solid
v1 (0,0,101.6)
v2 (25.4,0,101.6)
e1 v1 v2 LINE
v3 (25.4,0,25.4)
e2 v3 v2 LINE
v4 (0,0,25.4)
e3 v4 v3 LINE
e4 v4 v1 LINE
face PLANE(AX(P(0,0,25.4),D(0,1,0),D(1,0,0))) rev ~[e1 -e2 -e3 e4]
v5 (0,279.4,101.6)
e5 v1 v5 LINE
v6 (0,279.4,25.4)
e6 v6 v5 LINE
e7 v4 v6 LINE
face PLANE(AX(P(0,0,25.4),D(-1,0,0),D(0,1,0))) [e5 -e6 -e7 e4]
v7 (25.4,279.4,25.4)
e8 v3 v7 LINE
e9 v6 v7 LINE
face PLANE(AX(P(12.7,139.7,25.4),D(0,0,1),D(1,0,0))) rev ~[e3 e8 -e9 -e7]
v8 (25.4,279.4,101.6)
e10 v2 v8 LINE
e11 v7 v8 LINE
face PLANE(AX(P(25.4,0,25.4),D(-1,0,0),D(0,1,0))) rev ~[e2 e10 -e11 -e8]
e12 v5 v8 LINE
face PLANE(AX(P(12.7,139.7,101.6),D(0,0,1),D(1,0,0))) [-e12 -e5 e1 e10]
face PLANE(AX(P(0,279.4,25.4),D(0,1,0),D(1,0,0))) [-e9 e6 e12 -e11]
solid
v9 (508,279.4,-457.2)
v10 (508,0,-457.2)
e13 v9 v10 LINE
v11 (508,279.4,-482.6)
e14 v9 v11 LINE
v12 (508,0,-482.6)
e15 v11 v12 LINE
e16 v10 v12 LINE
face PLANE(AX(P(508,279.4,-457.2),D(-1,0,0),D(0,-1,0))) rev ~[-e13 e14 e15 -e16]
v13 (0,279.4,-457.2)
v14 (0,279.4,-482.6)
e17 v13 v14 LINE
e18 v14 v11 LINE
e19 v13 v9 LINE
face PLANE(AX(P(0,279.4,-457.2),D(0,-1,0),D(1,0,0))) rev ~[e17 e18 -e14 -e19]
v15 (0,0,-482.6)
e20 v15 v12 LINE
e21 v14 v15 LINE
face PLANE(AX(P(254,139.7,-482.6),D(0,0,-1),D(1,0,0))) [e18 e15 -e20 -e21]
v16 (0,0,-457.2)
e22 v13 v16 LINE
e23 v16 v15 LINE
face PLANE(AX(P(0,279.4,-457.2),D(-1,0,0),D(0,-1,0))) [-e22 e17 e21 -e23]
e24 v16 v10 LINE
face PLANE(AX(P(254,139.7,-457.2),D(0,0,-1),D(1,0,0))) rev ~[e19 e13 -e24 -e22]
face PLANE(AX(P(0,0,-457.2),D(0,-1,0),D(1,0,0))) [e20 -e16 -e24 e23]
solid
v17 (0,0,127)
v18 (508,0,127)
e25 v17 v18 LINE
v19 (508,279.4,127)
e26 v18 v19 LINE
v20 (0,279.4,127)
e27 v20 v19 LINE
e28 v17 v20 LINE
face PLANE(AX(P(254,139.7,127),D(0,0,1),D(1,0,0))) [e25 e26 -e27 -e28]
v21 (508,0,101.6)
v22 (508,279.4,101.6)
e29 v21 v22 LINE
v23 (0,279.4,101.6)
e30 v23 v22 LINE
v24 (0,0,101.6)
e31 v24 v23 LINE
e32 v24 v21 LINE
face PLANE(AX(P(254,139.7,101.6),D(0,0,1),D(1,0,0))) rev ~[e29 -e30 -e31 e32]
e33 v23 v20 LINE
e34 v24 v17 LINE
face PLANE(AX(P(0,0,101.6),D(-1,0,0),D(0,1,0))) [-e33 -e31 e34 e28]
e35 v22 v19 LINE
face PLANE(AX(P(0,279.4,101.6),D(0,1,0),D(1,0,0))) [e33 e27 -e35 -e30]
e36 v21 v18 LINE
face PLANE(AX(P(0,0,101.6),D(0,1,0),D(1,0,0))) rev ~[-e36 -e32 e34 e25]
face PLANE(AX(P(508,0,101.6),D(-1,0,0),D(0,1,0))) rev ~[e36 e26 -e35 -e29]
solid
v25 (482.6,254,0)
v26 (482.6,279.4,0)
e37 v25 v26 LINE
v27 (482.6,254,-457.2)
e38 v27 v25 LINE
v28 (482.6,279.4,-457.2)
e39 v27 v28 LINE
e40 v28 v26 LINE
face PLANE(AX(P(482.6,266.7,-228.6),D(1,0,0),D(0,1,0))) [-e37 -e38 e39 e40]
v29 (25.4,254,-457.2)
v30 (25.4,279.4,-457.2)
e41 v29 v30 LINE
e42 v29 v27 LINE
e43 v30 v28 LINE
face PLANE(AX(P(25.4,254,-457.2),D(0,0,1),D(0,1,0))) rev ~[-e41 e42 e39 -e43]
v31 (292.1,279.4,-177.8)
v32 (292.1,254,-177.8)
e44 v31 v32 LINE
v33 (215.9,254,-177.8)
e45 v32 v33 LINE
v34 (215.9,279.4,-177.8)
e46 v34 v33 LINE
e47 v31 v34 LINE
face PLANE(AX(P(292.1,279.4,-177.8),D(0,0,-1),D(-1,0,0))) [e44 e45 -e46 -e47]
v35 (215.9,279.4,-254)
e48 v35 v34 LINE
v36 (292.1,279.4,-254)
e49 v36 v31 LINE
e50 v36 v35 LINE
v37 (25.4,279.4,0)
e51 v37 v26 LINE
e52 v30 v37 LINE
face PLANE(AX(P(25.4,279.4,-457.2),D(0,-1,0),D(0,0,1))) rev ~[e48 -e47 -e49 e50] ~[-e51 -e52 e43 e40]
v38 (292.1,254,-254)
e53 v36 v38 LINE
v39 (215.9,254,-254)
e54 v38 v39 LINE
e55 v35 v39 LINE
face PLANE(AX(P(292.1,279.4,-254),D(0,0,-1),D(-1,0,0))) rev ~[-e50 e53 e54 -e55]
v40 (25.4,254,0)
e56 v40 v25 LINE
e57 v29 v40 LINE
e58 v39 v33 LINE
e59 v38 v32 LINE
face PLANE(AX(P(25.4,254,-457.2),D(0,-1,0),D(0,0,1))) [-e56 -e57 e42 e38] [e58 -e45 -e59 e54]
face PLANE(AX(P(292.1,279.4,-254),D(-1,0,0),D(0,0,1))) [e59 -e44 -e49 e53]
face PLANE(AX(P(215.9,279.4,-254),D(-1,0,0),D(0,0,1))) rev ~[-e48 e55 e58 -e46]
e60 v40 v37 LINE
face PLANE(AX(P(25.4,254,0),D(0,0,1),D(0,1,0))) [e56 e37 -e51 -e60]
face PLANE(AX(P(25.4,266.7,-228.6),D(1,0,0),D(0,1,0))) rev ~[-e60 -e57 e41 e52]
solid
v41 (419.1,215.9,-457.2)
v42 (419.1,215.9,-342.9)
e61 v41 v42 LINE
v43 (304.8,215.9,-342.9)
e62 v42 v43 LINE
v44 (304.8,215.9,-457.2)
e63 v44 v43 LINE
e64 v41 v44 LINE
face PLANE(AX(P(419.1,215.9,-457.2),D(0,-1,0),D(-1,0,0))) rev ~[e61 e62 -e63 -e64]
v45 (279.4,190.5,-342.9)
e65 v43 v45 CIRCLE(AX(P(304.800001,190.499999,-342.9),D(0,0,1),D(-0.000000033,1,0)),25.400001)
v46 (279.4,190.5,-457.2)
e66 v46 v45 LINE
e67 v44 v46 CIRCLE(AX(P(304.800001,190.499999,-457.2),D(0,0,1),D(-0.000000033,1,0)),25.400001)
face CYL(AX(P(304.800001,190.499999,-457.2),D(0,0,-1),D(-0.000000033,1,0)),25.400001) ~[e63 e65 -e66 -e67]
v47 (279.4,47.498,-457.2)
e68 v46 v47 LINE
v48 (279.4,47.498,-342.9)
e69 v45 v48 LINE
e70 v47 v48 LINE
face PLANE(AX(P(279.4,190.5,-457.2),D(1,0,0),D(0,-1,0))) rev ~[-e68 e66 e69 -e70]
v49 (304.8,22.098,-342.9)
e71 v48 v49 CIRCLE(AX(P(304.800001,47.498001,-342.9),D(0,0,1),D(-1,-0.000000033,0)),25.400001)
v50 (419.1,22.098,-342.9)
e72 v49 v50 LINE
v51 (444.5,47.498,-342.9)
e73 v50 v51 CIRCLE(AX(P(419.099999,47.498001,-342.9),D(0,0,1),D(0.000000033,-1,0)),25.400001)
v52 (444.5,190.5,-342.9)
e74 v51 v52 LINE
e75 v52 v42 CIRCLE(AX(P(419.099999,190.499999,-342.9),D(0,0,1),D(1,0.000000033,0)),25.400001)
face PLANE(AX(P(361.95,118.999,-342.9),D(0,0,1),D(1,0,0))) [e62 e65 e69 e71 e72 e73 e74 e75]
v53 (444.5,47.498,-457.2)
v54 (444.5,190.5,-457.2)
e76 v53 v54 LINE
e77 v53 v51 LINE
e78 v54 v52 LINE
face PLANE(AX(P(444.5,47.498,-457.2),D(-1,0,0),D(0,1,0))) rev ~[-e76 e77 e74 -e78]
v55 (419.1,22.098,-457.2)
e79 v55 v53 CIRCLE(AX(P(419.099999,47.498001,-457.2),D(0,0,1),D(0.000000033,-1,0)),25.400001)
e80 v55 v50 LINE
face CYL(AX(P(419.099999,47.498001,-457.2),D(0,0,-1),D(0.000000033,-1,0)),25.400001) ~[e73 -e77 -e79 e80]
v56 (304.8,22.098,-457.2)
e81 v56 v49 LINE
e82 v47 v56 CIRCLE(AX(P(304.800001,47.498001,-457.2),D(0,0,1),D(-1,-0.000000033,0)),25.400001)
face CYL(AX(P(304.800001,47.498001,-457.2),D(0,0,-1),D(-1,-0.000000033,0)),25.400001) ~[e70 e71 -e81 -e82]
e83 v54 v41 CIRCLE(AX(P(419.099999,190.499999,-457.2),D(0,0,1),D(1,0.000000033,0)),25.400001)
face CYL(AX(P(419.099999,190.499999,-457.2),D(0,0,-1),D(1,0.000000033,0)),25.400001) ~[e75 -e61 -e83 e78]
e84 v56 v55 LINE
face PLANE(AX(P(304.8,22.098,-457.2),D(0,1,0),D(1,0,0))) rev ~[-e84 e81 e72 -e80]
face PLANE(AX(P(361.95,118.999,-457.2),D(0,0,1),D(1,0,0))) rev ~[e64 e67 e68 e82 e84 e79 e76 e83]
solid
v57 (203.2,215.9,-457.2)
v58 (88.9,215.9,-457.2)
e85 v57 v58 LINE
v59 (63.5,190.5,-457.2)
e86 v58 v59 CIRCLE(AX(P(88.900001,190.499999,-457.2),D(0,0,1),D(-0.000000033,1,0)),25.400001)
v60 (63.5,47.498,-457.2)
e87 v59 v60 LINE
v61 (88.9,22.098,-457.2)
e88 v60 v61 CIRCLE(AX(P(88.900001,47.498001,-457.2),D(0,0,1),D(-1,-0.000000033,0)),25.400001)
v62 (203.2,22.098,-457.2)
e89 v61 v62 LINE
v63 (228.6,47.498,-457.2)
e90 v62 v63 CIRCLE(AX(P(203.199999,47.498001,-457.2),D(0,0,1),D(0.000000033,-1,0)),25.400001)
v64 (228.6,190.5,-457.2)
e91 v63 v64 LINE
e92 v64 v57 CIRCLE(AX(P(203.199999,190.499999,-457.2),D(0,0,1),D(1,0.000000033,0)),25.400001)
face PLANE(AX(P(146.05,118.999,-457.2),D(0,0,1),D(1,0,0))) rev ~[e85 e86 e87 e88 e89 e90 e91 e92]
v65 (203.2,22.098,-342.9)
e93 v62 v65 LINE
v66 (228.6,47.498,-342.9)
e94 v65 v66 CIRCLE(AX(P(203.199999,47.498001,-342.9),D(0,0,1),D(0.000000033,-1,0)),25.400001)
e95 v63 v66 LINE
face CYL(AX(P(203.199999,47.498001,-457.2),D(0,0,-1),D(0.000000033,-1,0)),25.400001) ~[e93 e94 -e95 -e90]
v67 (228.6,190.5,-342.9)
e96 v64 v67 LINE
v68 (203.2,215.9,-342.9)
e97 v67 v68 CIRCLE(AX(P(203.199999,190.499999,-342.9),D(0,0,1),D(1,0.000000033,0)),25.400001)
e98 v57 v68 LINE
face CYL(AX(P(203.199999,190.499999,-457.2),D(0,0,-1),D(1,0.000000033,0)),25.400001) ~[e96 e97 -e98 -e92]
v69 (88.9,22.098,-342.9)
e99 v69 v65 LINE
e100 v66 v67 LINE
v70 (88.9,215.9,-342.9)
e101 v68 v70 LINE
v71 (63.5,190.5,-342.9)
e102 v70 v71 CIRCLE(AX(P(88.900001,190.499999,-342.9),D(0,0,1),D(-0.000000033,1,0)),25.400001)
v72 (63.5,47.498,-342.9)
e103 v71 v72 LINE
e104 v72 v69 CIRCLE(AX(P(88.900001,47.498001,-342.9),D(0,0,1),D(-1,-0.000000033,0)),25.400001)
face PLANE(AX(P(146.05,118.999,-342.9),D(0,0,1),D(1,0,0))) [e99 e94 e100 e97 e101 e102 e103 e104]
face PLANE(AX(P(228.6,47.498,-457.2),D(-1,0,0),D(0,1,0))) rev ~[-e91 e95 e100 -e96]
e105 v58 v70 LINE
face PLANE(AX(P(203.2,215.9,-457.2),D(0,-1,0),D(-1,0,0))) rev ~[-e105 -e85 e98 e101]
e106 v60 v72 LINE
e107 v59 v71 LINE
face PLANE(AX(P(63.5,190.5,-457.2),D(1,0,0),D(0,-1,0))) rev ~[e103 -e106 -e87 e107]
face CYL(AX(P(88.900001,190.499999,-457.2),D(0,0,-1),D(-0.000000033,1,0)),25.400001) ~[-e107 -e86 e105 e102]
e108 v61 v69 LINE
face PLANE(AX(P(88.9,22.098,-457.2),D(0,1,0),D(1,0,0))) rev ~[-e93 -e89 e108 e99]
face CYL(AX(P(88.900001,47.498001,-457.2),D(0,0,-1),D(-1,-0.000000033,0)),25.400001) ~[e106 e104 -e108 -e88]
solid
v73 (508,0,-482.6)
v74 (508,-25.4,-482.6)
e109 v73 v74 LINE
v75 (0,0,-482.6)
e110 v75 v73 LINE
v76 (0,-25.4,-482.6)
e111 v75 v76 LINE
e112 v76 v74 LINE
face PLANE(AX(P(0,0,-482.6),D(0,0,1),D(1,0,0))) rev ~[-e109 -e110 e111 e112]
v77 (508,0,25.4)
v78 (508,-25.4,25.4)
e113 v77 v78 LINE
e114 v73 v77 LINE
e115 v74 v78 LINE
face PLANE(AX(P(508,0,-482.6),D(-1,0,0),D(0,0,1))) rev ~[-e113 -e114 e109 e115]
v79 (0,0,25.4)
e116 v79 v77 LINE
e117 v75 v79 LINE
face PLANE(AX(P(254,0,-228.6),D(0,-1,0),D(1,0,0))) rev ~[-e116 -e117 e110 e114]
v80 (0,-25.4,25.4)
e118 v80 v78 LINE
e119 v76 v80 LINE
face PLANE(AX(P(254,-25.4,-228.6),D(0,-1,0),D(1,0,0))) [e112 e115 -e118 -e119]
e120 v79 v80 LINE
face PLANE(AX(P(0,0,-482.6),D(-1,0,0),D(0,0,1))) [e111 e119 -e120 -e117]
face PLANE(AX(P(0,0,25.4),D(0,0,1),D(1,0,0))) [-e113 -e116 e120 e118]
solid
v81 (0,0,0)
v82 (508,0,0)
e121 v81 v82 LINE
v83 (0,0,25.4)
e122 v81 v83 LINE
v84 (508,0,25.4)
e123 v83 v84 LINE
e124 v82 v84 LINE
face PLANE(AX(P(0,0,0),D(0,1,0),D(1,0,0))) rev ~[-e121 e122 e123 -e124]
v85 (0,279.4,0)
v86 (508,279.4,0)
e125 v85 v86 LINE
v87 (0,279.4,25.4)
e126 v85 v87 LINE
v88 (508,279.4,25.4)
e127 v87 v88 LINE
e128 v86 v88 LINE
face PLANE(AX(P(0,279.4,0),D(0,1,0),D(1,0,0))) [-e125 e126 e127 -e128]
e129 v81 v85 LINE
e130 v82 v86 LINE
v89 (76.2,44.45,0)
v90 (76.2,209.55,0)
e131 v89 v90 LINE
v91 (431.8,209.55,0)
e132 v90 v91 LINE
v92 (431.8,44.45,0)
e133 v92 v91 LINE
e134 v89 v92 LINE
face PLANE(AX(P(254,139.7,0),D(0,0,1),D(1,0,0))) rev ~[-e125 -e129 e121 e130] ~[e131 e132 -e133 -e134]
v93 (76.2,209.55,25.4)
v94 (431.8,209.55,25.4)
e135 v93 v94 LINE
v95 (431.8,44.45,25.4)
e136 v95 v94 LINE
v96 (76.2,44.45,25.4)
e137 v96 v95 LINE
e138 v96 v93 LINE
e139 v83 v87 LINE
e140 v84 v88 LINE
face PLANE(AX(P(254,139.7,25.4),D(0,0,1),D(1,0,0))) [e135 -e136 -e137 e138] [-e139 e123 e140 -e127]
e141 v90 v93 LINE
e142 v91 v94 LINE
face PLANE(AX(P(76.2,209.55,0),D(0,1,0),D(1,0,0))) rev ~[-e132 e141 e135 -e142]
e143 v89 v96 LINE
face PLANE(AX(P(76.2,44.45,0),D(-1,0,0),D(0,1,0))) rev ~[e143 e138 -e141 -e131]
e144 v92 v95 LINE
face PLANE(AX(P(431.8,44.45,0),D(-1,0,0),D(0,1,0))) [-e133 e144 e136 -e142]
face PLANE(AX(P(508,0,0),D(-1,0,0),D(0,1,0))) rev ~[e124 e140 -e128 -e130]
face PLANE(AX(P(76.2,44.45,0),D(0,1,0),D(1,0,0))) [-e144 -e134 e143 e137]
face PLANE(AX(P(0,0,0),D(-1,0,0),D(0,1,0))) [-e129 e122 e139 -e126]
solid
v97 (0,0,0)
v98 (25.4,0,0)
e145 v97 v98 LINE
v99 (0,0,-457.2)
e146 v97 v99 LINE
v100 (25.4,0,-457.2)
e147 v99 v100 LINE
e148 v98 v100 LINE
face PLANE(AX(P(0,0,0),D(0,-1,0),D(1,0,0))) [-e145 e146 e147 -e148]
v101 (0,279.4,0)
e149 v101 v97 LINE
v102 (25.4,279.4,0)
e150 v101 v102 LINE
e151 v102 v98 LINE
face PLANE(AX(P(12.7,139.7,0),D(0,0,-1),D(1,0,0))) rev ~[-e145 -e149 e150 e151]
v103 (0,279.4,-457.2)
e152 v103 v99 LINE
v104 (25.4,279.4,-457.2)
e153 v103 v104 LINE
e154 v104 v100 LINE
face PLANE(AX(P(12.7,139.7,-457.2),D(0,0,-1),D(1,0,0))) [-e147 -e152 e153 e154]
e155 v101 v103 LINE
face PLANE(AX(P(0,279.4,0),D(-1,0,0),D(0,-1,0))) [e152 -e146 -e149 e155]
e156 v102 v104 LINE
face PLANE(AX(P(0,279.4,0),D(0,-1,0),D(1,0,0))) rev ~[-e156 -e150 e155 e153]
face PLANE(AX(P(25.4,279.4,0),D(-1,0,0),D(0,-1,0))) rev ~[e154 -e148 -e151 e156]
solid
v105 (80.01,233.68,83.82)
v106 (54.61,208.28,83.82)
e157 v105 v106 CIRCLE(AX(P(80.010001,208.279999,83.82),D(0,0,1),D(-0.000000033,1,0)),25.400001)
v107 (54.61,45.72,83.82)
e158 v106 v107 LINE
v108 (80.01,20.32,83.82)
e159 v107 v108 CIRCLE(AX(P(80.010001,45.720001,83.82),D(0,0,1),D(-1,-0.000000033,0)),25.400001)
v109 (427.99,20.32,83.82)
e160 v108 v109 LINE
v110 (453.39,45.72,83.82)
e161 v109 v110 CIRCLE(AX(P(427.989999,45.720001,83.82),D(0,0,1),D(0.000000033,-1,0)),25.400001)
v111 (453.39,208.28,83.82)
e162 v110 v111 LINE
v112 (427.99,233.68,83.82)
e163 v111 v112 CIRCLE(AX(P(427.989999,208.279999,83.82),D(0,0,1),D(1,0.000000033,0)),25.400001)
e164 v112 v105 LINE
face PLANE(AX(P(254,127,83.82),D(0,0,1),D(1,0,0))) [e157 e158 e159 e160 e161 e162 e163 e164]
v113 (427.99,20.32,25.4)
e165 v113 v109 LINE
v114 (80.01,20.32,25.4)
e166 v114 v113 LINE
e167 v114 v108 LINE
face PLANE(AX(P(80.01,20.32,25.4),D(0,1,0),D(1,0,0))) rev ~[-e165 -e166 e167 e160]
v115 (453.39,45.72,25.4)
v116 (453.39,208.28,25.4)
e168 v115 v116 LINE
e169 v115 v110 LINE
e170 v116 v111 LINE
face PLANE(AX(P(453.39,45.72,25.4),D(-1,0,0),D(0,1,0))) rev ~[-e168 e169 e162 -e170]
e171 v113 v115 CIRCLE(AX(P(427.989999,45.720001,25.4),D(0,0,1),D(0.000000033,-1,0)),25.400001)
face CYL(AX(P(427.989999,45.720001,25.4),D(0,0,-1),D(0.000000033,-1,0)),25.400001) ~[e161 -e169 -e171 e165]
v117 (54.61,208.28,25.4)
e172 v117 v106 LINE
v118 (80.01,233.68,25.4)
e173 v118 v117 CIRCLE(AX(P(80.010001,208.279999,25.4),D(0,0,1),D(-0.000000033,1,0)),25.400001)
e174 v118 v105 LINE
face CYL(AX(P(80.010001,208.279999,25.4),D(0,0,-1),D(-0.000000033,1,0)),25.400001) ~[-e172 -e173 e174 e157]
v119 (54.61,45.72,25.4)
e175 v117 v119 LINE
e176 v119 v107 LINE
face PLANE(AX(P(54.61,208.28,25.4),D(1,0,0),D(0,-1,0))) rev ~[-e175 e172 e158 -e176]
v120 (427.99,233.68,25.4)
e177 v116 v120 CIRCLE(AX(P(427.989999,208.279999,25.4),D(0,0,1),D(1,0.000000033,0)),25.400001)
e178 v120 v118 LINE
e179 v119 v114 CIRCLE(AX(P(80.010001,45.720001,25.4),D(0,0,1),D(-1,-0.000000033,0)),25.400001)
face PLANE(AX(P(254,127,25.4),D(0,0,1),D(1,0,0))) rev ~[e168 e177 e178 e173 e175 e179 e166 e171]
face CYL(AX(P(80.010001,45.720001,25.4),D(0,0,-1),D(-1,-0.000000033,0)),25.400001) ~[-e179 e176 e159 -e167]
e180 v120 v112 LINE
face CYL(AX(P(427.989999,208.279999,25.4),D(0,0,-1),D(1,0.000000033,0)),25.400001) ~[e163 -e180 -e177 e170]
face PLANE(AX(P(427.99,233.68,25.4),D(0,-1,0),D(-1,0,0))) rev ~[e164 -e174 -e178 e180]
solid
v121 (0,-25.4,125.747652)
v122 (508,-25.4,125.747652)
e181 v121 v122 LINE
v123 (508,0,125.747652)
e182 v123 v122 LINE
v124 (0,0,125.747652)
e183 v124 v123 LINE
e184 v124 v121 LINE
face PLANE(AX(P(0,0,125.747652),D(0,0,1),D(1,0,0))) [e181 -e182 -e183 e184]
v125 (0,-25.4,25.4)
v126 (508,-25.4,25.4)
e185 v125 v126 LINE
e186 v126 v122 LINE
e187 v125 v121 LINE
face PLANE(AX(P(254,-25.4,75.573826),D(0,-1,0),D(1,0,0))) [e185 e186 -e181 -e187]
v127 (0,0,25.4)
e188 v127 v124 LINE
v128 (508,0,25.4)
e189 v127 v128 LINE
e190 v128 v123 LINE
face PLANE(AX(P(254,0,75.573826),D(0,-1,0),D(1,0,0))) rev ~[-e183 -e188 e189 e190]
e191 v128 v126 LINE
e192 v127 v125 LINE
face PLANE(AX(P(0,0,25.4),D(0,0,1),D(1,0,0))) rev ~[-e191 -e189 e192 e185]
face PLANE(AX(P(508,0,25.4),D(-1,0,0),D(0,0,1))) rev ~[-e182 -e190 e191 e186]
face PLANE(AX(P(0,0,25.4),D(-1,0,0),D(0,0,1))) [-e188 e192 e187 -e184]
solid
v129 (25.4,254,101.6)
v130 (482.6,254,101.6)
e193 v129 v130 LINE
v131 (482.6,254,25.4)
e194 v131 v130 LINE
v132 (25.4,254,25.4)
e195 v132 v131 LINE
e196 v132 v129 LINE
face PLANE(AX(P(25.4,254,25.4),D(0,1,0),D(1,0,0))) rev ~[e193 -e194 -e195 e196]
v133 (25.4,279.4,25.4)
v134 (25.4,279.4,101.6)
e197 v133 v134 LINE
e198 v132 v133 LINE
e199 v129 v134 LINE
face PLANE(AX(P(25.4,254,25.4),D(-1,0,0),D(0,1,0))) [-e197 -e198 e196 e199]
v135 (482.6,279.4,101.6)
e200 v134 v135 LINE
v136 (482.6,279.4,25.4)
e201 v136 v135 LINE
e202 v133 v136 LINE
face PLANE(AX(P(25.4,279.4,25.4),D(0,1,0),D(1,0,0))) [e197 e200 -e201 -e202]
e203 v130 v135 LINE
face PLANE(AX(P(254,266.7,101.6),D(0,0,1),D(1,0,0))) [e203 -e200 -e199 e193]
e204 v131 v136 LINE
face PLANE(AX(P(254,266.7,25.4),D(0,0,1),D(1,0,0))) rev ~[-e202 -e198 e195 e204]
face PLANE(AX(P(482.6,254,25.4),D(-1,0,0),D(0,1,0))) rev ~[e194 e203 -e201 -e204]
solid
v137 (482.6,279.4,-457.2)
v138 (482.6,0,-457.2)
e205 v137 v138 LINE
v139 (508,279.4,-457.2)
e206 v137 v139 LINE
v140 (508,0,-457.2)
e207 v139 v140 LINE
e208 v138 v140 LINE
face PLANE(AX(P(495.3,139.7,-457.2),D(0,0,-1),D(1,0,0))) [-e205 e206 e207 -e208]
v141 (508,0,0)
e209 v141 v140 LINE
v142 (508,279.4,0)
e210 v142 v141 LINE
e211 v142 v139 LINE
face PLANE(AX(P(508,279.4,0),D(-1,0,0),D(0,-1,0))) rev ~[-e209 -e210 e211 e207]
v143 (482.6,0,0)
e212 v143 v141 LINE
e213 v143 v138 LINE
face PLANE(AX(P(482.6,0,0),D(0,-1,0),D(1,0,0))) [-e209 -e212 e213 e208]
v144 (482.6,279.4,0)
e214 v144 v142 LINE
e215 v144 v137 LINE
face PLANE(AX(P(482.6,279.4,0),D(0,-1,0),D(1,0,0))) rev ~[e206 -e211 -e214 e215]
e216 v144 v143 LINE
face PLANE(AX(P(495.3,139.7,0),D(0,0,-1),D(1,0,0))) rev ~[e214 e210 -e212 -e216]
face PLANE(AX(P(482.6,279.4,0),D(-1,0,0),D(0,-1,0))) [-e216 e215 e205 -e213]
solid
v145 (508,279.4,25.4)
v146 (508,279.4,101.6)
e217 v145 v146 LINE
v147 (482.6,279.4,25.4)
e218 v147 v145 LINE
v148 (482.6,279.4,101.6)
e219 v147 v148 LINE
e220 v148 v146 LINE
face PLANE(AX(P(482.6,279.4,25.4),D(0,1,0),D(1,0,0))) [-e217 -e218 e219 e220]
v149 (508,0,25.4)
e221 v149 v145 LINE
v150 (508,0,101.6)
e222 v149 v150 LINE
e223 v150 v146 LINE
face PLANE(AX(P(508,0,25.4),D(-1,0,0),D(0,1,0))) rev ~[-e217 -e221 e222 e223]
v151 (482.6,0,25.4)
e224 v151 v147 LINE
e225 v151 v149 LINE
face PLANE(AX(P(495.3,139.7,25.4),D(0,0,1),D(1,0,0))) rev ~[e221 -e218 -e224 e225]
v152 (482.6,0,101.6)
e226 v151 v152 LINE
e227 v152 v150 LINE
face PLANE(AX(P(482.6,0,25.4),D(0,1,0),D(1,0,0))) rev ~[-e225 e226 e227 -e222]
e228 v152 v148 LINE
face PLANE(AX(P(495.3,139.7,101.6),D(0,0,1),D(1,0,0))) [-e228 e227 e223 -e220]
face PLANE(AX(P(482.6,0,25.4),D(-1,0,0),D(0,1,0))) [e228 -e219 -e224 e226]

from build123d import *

# Parameters (mm, degrees)
F0_W      = 508
F0_H      = 279.4
F0_W_2    = 355.6
F0_H_2    = 165.1
F1_DEPTH  = 25.4
F2_W      = 25.4
F2_H      = 279.4
F3_DEPTH  = 76.2
F4_W      = 25.4
F4_H      = 279.4
F5_DEPTH  = 76.2
F6_W      = 457.2
F6_H      = 25.4
F7_DEPTH  = 76.2
F9_DEPTH  = 58.42
F10_W     = 508
F10_H     = 279.4
F11_DEPTH = 25.4
F12_W     = 25.4
F12_H     = 279.4
F13_DEPTH = 457.2
F14_W     = 25.4
F14_H     = 279.4
F15_DEPTH = 457.2
F16_W     = 508
F16_H     = 279.4
F17_DEPTH = 25.4
F18_W     = 25.4
F18_H     = 457.2
F19_DEPTH = 457.2
F20_W     = 508
F20_H     = 508
F21_DEPTH = 25.4
F22_W     = 508
F22_H     = 100.347652
F23_DEPTH = 25.4
F24_W     = 76.2
F24_H     = 76.2
F25_DEPTH = 25.4
F27_DEPTH = 114.3


with BuildPart() as f1:
    # F0 (on Top) → F1 (new body)
    with BuildSketch(Plane.XY):
        with Locations((254, 139.7)):
            Rectangle(F0_W, F0_H)
        with Locations((254, 127)):
            Rectangle(F0_W_2, F0_H_2, mode=Mode.SUBTRACT)
    extrude(amount=F1_DEPTH)


with BuildPart() as f3:
    # F2 (on face) → F3 (new body)
    with BuildSketch(Plane.XY.offset(25.4)):
        with Locations((12.7, 139.7)):
            Rectangle(F2_W, F2_H)
    extrude(amount=F3_DEPTH)


with BuildPart() as f5:
    # F4 (on face) → F5 (new body)
    with BuildSketch(Plane.XY.offset(25.4)):
        with Locations((495.3, 139.7)):
            Rectangle(F4_W, F4_H)
    extrude(amount=F5_DEPTH)


with BuildPart() as f7:
    # F6 (on face) → F7 (new body)
    with BuildSketch(Plane.XY.offset(25.4)):
        with Locations((254, 266.7)):
            Rectangle(F6_W, F6_H)
    extrude(amount=F7_DEPTH)


with BuildPart() as f9:
    # F8 (on face) → F9 (new body)
    with BuildSketch(Plane.XY.offset(25.4)):
        with BuildLine():
            Line((427.99, 233.68), (80.01, 233.68))
            ThreePointArc((80.01, 233.68), (62.049488, 226.240512), (54.61, 208.28))
            Line((54.61, 208.28), (54.61, 45.72))
            ThreePointArc((54.61, 45.72), (62.049488, 27.759488), (80.01, 20.32))
            Line((80.01, 20.32), (427.99, 20.32))
            ThreePointArc((427.99, 20.32), (445.950512, 27.759488), (453.39, 45.72))
            Line((453.39, 45.72), (453.39, 208.28))
            ThreePointArc((453.39, 208.28), (445.950512, 226.240512), (427.99, 233.68))
        make_face()
    extrude(amount=F9_DEPTH)


with BuildPart() as f11:
    # F10 (on face) → F11 (new body)
    with BuildSketch(Plane.XY.offset(101.6)):
        with Locations((254, 139.7)):
            Rectangle(F10_W, F10_H)
    extrude(amount=F11_DEPTH)


with BuildPart() as f13:
    # F12 (on face) → F13 (new body)
    with BuildSketch(Plane(origin=(0, 0, 0), x_dir=(1, 0, 0), z_dir=(0, 0, -1))):
        with Locations((12.7, -139.7)):
            Rectangle(F12_W, F12_H)
    extrude(amount=F13_DEPTH)


with BuildPart() as f15:
    # F14 (on face) → F15 (new body)
    with BuildSketch(Plane(origin=(0, 0, 0), x_dir=(1, 0, 0), z_dir=(0, 0, -1))):
        with Locations((495.3, -139.7)):
            Rectangle(F14_W, F14_H)
    extrude(amount=F15_DEPTH)


with BuildPart() as f17:
    # F16 (on face) → F17 (new body)
    with BuildSketch(Plane(origin=(0, 0, -457.2), x_dir=(1, 0, 0), z_dir=(0, 0, -1))):
        with Locations((254, -139.7)):
            Rectangle(F16_W, F16_H)
    extrude(amount=F17_DEPTH)


with BuildPart() as f19:
    # F18 (on face) → F19 (new body)
    with BuildSketch(Plane.YZ.offset(25.4)):
        with Locations((266.7, -228.6)):
            Rectangle(F18_W, F18_H)
    extrude(amount=F19_DEPTH)

    # F24 (on face) → F25 (cut, through all)
    with BuildSketch(Plane(origin=(0, 279.4, 0), x_dir=(-1, 0, 0), z_dir=(0, 1, 0))):
        with Locations((-254, -215.9)):
            Rectangle(F24_W, F24_H)
    extrude(amount=-F25_DEPTH, mode=Mode.SUBTRACT)


with BuildPart() as f21:
    # F20 (on face) → F21 (new body)
    with BuildSketch(Plane.XZ):
        with Locations((254, -228.6)):
            Rectangle(F20_W, F20_H)
    extrude(amount=F21_DEPTH)


with BuildPart() as f23:
    # F22 (on face) → F23 (new body)
    with BuildSketch(Plane.XZ):
        with Locations((254, 75.573826)):
            Rectangle(F22_W, F22_H)
    extrude(amount=F23_DEPTH)


with BuildPart() as f27:
    # F26 (on face) → F27 (new body)
    with BuildSketch(Plane.XY.offset(-457.2)):
        with BuildLine():
            ThreePointArc((63.5, 47.498), (70.939488, 29.537488), (88.9, 22.098))
            Line((88.9, 22.098), (203.2, 22.098))
            ThreePointArc((203.2, 22.098), (221.160512, 29.537488), (228.6, 47.498))
            Line((228.6, 47.498), (228.6, 190.5))
            ThreePointArc((228.6, 190.5), (221.160512, 208.460512), (203.2, 215.9))
            Line((203.2, 215.9), (88.9, 215.9))
            ThreePointArc((88.9, 215.9), (70.939488, 208.460512), (63.5, 190.5))
            Line((63.5, 190.5), (63.5, 47.498))
        make_face()
        with BuildLine():
            ThreePointArc((444.5, 190.5), (437.060512, 208.460512), (419.1, 215.9))
            Line((419.1, 215.9), (304.8, 215.9))
            ThreePointArc((304.8, 215.9), (286.839488, 208.460512), (279.4, 190.5))
            Line((279.4, 190.5), (279.4, 47.498))
            ThreePointArc((279.4, 47.498), (286.839488, 29.537488), (304.8, 22.098))
            Line((304.8, 22.098), (419.1, 22.098))
            ThreePointArc((419.1, 22.098), (437.060512, 29.537488), (444.5, 47.498))
            Line((444.5, 47.498), (444.5, 190.5))
        make_face()
    extrude(amount=F27_DEPTH)


solid = Compound([f1.part, f3.part, f5.part, f7.part, f9.part, f11.part, f13.part, f15.part, f17.part, f19.part, f21.part, f23.part, f27.part])
